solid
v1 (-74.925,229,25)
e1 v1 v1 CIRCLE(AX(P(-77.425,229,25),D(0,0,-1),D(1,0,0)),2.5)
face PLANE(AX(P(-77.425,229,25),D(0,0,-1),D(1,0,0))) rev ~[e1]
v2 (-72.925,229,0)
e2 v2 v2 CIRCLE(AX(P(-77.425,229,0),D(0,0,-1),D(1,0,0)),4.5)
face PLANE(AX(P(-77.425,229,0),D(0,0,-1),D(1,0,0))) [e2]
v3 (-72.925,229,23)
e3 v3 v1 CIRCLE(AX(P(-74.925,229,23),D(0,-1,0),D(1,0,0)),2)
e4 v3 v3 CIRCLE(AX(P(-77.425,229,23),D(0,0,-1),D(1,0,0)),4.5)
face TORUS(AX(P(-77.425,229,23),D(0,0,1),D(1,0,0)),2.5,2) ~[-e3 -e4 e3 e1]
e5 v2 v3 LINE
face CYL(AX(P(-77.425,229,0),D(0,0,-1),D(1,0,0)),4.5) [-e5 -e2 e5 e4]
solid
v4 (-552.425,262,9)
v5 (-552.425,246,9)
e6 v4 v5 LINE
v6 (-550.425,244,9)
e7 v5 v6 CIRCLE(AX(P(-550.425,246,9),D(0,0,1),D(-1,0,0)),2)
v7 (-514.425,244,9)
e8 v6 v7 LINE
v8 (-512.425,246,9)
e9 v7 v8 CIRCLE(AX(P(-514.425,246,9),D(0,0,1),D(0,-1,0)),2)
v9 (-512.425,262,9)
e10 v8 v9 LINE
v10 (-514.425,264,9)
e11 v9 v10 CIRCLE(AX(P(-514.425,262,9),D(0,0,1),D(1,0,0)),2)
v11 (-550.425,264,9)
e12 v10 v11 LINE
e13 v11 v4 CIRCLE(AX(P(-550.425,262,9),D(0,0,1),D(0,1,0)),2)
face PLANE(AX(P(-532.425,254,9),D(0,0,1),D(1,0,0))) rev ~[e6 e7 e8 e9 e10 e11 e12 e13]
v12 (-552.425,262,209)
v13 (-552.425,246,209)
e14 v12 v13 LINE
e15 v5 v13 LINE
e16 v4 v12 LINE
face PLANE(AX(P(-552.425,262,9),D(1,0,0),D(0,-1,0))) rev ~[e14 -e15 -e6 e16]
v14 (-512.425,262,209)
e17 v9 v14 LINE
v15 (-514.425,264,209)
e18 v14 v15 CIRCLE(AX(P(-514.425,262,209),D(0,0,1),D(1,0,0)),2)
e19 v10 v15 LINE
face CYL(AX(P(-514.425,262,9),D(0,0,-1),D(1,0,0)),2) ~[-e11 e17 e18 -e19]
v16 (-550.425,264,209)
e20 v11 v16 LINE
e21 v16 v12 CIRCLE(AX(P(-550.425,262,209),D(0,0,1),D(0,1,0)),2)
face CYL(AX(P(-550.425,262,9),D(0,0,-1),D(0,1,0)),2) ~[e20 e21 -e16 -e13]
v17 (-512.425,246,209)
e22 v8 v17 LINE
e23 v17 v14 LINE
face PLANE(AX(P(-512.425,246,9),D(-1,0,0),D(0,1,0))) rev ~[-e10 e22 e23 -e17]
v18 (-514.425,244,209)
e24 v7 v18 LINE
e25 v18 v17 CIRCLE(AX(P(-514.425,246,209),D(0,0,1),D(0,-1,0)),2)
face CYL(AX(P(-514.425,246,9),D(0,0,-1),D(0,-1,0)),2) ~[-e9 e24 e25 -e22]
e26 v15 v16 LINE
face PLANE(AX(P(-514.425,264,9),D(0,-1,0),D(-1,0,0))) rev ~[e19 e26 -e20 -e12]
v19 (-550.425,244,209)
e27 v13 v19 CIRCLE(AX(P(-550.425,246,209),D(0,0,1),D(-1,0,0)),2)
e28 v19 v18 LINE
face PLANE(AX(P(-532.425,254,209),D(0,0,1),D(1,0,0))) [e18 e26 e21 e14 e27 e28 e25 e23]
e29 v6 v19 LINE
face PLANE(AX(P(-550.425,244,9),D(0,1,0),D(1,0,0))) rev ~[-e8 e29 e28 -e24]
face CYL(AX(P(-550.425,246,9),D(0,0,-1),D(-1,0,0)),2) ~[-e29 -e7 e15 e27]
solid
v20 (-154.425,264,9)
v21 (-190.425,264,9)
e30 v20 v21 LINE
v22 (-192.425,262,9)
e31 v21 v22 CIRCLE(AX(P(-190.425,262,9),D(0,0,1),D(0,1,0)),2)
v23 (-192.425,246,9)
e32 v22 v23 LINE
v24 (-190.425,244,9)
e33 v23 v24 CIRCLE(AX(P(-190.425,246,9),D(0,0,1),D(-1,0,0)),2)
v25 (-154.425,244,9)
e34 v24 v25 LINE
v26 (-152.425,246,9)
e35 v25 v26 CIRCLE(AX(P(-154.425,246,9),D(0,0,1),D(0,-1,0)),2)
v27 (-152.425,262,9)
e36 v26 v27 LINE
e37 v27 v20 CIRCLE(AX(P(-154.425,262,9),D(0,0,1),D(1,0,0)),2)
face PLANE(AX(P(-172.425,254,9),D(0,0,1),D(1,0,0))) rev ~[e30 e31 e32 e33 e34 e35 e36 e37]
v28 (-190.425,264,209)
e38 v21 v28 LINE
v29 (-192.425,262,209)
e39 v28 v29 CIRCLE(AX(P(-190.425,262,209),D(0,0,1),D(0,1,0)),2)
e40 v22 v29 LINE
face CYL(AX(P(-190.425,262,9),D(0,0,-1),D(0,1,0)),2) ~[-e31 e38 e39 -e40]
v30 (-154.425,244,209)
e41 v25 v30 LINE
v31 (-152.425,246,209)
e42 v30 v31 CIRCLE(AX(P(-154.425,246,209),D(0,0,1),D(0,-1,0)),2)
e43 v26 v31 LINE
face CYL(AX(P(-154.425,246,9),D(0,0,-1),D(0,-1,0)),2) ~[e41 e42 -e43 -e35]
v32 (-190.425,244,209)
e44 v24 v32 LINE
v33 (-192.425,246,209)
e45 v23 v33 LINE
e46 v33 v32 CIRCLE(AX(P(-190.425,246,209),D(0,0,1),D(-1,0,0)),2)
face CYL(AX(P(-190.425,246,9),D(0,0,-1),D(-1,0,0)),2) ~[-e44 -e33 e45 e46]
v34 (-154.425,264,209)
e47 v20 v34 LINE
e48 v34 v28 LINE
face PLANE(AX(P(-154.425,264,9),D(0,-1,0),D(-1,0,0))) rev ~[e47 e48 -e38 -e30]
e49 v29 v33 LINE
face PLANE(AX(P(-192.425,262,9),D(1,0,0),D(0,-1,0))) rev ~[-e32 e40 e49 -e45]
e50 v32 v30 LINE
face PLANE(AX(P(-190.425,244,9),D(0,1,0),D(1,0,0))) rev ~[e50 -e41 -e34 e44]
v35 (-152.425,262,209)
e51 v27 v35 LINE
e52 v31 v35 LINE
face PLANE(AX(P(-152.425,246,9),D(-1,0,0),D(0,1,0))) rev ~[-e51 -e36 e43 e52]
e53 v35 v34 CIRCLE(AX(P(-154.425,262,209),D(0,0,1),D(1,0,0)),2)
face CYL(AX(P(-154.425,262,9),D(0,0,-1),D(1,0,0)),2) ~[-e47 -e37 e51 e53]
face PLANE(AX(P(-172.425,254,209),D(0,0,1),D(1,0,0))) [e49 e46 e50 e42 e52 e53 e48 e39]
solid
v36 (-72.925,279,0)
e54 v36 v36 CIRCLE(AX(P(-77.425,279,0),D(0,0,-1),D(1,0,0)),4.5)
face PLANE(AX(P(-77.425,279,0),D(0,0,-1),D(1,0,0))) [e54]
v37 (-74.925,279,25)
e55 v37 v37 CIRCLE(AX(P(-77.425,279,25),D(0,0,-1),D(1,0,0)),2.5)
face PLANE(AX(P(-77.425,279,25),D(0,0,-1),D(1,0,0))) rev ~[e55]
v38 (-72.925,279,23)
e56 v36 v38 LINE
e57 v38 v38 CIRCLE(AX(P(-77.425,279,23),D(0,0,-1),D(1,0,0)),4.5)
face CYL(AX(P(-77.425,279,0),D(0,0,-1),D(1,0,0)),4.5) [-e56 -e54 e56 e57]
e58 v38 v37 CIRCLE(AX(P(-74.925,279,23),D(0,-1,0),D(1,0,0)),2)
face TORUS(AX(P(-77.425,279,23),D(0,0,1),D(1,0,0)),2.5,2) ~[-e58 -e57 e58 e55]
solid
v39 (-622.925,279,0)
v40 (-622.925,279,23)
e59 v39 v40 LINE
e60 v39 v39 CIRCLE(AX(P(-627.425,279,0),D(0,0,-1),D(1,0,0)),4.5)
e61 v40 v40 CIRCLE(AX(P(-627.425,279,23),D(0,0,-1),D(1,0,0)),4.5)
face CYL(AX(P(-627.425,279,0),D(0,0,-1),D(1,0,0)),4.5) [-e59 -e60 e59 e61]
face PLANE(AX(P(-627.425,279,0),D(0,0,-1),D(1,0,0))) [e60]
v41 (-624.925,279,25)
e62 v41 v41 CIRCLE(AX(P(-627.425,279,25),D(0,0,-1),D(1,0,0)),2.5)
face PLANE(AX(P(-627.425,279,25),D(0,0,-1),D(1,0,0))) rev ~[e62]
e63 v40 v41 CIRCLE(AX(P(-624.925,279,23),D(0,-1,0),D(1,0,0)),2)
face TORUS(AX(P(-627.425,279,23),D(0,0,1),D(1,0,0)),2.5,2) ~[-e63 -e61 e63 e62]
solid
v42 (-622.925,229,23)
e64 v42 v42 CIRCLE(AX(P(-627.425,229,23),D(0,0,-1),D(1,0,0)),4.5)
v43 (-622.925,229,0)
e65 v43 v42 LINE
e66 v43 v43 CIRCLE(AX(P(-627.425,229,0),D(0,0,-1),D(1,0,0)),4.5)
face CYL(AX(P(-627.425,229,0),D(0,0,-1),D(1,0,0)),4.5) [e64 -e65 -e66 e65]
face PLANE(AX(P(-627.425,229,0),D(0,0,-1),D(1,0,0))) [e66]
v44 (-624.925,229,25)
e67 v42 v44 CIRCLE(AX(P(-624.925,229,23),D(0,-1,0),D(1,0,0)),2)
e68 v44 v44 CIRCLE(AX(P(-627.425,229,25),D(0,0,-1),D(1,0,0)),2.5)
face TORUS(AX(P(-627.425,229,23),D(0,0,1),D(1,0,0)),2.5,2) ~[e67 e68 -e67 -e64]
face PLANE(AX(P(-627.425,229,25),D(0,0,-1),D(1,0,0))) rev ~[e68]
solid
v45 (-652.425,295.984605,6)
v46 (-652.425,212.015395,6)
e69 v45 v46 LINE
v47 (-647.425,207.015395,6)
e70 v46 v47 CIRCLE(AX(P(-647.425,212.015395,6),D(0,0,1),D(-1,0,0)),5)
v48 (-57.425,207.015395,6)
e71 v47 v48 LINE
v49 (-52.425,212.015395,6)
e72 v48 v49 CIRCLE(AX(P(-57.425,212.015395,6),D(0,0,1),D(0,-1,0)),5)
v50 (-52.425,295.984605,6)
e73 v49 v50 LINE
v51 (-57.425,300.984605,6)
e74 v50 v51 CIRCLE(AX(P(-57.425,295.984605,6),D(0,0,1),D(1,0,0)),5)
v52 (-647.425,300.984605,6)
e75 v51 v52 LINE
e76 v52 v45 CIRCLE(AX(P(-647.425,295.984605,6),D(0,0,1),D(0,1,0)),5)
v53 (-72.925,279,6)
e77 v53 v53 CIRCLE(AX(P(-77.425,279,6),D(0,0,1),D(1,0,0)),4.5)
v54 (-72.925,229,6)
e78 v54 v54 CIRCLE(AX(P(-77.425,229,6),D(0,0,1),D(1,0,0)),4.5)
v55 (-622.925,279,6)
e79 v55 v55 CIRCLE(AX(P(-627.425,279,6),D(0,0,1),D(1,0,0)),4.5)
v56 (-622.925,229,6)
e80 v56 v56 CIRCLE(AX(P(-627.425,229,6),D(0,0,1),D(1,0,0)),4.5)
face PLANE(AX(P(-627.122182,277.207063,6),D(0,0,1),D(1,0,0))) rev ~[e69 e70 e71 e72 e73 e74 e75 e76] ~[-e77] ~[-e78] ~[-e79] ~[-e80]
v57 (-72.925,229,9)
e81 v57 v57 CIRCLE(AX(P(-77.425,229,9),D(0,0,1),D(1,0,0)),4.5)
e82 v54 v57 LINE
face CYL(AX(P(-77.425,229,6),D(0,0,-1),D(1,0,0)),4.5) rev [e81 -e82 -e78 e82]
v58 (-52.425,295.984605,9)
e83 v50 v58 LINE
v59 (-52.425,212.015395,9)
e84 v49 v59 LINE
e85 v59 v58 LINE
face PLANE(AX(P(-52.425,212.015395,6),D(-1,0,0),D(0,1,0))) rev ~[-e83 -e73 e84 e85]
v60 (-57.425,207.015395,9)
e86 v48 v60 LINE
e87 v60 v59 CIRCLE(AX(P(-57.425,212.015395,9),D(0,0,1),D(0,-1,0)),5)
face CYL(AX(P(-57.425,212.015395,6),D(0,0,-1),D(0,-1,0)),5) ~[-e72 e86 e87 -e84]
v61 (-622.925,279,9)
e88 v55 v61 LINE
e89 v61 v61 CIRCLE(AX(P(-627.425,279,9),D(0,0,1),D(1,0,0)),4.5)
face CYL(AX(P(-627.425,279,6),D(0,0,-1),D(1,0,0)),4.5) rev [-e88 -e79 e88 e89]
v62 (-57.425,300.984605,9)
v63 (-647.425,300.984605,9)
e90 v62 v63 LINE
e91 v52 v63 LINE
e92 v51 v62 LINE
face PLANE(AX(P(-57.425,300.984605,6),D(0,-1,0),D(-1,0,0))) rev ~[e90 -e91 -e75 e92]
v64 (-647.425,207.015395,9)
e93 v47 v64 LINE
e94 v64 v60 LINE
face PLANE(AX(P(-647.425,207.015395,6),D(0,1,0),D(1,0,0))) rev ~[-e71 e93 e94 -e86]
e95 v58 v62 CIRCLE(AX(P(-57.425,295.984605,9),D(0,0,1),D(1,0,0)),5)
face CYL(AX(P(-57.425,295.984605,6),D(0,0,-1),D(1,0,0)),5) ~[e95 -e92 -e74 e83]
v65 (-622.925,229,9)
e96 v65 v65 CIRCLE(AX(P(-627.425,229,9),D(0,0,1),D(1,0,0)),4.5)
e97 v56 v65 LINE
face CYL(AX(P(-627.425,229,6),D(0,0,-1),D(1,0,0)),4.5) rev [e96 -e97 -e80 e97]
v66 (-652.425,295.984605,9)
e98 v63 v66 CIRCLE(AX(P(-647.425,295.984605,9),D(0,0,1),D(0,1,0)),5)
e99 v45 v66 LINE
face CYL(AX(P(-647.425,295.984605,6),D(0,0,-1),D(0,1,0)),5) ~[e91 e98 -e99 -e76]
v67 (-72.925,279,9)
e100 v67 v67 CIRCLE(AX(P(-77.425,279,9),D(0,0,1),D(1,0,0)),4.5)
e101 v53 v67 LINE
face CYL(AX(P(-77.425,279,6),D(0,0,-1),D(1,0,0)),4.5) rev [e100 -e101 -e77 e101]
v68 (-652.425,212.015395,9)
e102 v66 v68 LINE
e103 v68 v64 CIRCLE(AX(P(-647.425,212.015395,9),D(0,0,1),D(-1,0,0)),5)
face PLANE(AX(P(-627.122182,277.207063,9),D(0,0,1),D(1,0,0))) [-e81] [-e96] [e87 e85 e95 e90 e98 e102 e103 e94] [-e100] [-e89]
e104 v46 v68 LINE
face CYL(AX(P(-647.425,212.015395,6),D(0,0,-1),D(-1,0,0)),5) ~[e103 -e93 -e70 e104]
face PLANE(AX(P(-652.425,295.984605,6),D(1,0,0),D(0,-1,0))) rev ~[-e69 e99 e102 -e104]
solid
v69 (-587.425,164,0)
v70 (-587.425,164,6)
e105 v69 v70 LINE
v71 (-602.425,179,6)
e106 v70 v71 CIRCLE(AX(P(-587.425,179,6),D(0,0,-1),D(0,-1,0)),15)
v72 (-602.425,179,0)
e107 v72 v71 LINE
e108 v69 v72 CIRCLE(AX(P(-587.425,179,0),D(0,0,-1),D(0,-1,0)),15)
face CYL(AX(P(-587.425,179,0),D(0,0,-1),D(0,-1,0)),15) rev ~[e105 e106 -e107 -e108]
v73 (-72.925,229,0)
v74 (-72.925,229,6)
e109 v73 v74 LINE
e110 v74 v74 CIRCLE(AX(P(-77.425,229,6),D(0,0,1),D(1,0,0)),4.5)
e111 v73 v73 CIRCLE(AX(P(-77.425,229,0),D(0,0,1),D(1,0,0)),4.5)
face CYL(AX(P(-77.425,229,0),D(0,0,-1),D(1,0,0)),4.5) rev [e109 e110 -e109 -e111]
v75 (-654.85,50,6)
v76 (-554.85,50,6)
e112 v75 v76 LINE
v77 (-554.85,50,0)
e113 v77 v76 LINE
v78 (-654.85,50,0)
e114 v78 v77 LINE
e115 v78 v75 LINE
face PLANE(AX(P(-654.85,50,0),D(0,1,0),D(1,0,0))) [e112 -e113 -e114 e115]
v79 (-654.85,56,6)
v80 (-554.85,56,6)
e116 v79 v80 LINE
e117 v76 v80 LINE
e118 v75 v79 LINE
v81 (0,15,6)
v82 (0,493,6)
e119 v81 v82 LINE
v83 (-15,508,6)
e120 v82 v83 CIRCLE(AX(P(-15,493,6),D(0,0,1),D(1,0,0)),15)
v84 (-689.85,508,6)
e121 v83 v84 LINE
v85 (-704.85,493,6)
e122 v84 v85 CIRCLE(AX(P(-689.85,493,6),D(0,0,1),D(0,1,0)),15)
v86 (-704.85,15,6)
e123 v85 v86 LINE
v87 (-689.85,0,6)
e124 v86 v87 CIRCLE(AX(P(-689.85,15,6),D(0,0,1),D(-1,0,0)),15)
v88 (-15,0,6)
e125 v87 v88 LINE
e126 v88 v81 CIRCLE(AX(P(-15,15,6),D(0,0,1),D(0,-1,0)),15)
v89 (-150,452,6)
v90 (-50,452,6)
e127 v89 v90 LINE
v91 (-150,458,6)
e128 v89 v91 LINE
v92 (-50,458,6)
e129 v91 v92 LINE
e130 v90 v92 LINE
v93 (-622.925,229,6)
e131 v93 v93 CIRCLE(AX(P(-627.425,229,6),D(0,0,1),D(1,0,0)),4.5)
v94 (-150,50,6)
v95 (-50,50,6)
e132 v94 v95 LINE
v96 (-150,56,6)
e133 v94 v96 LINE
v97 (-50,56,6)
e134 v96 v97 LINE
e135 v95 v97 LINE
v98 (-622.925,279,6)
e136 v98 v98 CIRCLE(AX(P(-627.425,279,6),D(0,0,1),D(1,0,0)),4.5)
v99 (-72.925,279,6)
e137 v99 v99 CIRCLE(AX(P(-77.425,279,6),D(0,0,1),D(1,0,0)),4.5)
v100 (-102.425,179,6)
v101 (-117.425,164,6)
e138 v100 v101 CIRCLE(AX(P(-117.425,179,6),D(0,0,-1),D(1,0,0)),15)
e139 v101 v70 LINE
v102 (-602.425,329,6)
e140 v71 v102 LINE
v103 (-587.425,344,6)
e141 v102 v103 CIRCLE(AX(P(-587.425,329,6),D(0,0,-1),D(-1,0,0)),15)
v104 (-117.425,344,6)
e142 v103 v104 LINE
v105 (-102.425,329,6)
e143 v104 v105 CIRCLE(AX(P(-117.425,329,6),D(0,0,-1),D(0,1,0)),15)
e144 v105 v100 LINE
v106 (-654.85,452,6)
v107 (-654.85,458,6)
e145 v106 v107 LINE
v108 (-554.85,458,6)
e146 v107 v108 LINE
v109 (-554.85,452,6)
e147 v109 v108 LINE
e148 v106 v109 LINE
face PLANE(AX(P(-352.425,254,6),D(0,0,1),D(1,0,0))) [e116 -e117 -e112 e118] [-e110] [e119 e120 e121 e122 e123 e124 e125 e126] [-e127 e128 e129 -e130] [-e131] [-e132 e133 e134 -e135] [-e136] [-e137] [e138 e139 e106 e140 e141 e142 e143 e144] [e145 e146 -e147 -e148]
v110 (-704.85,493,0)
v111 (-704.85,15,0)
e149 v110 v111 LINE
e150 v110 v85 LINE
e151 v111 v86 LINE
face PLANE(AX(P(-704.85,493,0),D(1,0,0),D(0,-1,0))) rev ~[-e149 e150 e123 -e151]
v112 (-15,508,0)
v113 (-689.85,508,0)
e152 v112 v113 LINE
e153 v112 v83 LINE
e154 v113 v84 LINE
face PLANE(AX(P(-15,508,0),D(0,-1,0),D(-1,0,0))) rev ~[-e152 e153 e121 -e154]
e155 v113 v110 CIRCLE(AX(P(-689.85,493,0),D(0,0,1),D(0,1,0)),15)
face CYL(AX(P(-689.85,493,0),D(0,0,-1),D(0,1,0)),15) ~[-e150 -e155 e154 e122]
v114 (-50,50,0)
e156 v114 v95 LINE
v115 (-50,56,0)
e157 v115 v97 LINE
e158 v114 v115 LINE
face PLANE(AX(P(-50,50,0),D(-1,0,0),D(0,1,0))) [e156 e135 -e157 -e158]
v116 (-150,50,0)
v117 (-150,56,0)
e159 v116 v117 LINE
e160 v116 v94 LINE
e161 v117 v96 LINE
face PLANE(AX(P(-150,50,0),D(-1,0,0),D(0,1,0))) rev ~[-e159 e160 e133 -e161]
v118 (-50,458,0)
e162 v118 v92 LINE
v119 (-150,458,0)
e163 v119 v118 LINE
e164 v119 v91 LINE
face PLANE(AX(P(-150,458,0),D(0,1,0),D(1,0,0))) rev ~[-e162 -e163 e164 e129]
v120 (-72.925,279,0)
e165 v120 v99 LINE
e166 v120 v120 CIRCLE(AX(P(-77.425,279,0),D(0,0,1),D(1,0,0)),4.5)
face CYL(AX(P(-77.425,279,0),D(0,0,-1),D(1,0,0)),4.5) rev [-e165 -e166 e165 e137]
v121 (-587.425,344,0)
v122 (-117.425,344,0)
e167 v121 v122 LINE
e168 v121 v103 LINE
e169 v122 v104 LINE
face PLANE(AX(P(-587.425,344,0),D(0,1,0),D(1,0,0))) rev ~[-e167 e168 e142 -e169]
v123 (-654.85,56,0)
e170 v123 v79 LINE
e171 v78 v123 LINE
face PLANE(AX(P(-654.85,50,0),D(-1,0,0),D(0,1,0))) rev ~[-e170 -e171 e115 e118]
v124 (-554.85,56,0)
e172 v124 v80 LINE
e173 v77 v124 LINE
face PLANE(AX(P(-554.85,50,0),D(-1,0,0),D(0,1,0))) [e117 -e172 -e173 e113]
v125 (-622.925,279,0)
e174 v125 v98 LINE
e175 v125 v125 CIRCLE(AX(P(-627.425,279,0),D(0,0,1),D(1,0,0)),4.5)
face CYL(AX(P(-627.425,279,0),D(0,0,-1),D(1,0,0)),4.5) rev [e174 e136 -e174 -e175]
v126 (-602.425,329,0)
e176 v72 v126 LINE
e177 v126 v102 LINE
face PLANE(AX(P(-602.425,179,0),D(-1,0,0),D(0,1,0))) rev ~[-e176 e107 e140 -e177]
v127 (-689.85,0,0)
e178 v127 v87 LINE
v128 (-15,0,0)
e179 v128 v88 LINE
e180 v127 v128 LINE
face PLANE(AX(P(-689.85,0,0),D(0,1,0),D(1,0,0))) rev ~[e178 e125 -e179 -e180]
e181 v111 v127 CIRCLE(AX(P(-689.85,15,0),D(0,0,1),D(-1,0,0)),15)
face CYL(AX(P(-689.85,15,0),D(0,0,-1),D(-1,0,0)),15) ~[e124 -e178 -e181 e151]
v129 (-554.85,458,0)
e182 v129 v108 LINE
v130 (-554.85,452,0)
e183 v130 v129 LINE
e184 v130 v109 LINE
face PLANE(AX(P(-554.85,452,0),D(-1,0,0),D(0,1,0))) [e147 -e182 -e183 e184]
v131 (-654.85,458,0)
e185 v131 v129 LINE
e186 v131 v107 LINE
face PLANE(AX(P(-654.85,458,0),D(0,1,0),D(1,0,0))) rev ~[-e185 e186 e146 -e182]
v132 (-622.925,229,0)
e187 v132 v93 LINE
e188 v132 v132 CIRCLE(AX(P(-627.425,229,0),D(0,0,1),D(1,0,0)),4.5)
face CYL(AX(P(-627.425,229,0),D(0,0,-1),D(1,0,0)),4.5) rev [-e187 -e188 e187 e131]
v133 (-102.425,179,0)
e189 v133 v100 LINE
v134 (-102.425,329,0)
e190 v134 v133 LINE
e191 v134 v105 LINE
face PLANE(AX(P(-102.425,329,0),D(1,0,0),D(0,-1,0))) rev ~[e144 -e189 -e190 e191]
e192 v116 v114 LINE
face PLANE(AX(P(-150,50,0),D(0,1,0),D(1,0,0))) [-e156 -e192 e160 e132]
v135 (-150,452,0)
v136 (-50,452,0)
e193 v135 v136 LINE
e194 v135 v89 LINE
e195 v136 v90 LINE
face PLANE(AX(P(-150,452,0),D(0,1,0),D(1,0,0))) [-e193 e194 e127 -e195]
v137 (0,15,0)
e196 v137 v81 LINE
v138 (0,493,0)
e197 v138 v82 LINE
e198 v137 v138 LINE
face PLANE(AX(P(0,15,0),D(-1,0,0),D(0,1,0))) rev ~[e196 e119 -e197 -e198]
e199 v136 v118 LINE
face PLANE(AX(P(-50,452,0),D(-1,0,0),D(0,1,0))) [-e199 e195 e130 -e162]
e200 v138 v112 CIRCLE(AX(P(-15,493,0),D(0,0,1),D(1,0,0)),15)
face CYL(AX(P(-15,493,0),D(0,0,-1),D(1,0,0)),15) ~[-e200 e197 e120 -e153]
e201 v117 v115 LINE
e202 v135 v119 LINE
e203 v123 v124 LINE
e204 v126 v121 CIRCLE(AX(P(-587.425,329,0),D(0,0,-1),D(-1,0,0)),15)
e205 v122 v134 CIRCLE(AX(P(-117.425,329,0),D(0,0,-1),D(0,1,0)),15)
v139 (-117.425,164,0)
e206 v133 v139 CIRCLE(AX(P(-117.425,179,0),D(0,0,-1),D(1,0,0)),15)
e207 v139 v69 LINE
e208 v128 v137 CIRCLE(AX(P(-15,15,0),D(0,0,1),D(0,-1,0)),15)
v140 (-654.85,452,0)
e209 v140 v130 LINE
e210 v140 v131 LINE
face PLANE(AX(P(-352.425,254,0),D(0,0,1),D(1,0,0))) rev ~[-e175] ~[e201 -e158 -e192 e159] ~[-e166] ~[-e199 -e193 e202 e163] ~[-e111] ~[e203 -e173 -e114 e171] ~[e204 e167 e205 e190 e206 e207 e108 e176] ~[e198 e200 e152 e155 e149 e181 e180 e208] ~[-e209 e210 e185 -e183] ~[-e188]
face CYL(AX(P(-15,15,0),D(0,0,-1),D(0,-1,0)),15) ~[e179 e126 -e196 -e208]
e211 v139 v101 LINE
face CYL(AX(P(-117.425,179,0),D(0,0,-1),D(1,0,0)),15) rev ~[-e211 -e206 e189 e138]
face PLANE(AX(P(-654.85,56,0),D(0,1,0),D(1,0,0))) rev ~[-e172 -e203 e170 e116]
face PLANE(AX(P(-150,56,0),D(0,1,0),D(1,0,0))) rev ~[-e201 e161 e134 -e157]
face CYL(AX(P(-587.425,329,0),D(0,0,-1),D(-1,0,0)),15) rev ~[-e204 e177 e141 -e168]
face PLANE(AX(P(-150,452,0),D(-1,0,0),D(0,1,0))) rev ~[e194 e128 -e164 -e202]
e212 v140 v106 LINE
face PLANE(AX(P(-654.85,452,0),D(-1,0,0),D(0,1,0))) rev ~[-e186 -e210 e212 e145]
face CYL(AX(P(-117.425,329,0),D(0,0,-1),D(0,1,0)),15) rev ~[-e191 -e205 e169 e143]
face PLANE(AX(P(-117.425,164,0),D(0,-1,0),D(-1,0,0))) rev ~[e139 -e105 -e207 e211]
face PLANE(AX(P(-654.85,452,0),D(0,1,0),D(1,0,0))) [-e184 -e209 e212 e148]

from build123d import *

# Parameters (mm, degrees)
F0_W     = 100
F0_H     = 6
F0_R     = 4.5
F1_DEPTH = 6
F2_R     = 4.5
F3_DEPTH = 25
F4_R     = 2
F4_2_R   = 2
F4_3_R   = 2
F4_4_R   = 2
F5_R     = 4.5
F5_W     = 250
F5_H     = 46.9846048355
F6_DEPTH = 3
F8_DEPTH = 200


with BuildPart() as f1:
    # F0 (on Top) → F1 (new body)
    with BuildSketch(Plane.XY):
        with BuildLine():
            Line((-689.85, 0), (-15, 0))
            ThreePointArc((-15, 0), (-4.3933982822, 4.3933982822), (0, 15))
            Line((0, 15), (0, 493))
            ThreePointArc((0, 493), (-4.3933982822, 503.6066017178), (-15, 508))
            Line((-15, 508), (-689.85, 508))
            ThreePointArc((-689.85, 508), (-700.4566017178, 503.6066017178), (-704.85, 493))
            Line((-704.85, 493), (-704.85, 15))
            ThreePointArc((-704.85, 15), (-700.4566017178, 4.3933982822), (-689.85, 0))
        make_face()
        with Locations((-604.85, 53)):
            Rectangle(F0_W, F0_H, mode=Mode.SUBTRACT)
        with Locations((-627.425, 229)):
            Circle(F0_R, mode=Mode.SUBTRACT)
        with Locations((-100, 53)):
            Rectangle(F0_W, F0_H, mode=Mode.SUBTRACT)
        with Locations((-77.425, 229)):
            Circle(F0_R, mode=Mode.SUBTRACT)
        with Locations((-627.425, 279)):
            Circle(F0_R, mode=Mode.SUBTRACT)
        with Locations((-604.85, 455)):
            Rectangle(F0_W, F0_H, mode=Mode.SUBTRACT)
        with BuildLine():
            ThreePointArc((-102.425, 179), (-106.8183982822, 168.3933982822), (-117.425, 164))
            Line((-117.425, 164), (-587.425, 164))
            ThreePointArc((-587.425, 164), (-598.0316017178, 168.3933982822), (-602.425, 179))
            Line((-602.425, 179), (-602.425, 329))
            ThreePointArc((-602.425, 329), (-598.0316017178, 339.6066017178), (-587.425, 344))
            Line((-587.425, 344), (-117.425, 344))
            ThreePointArc((-117.425, 344), (-106.8183982822, 339.6066017178), (-102.425, 329))
            Line((-102.425, 329), (-102.425, 179))
        make_face(mode=Mode.SUBTRACT)
        with Locations((-77.425, 279)):
            Circle(F0_R, mode=Mode.SUBTRACT)
        with Locations((-100, 455)):
            Rectangle(F0_W, F0_H, mode=Mode.SUBTRACT)
    extrude(amount=F1_DEPTH)


with BuildPart() as f3:
    # F2 (on face) → F3 (new body)
    with BuildSketch(Plane(origin=(0, 0, 0), x_dir=(1, 0, 0), z_dir=(0, 0, -1))):
        with Locations((-627.425, -279)):
            Circle(F2_R)
    extrude(amount=-F3_DEPTH)

    # F4
    f4_edges = [f3.edges().sort_by_distance(p)[0] for p in [
        (-631.925, 279, 25),
    ]]
    fillet(f4_edges, radius=F4_R)


with BuildPart() as f3b:
    # F2 (on face) → F3, piece 2 (new body)
    with BuildSketch(Plane(origin=(0, 0, 0), x_dir=(1, 0, 0), z_dir=(0, 0, -1))):
        with Locations((-627.425, -229)):
            Circle(F2_R)
    extrude(amount=-F3_DEPTH)

    # F4#2
    f4_2_edges = [f3b.edges().sort_by_distance(p)[0] for p in [
        (-631.925, 229, 25),
    ]]
    fillet(f4_2_edges, radius=F4_2_R)


with BuildPart() as f3c:
    # F2 (on face) → F3, piece 3 (new body)
    with BuildSketch(Plane(origin=(0, 0, 0), x_dir=(1, 0, 0), z_dir=(0, 0, -1))):
        with Locations((-77.425, -279)):
            Circle(F2_R)
    extrude(amount=-F3_DEPTH)

    # F4#3
    f4_3_edges = [f3c.edges().sort_by_distance(p)[0] for p in [
        (-81.925, 279, 25),
    ]]
    fillet(f4_3_edges, radius=F4_3_R)


with BuildPart() as f3d:
    # F2 (on face) → F3, piece 4 (new body)
    with BuildSketch(Plane(origin=(0, 0, 0), x_dir=(1, 0, 0), z_dir=(0, 0, -1))):
        with Locations((-77.425, -229)):
            Circle(F2_R)
    extrude(amount=-F3_DEPTH)

    # F4#4
    f4_4_edges = [f3d.edges().sort_by_distance(p)[0] for p in [
        (-81.925, 229, 25),
    ]]
    fillet(f4_4_edges, radius=F4_4_R)


with BuildPart() as f6:
    # F5 (on face) → F6 (new body)
    with BuildSketch(Plane.XY.offset(6)):
        with BuildLine():
            Line((-602.425, 254), (-602.425, 300.9846048355))
            Line((-602.425, 300.9846048355), (-647.425, 300.9846048355))
            ThreePointArc((-647.425, 300.9846048355), (-650.9605339059, 299.5201387414), (-652.425, 295.9846048355))
            Line((-652.425, 295.9846048355), (-652.425, 254))
            Line((-652.425, 254), (-602.425, 254))
        make_face()
        with Locations((-627.425, 279)):
            Circle(F5_R, mode=Mode.SUBTRACT)
        with Locations((-477.425, 277.4923024178)):
            Rectangle(F5_W, F5_H)
        with BuildLine():
            Line((-602.425, 207.0153951645), (-602.425, 254))
            Line((-602.425, 254), (-652.425, 254))
            Line((-652.425, 254), (-652.425, 212.0153951645))
            ThreePointArc((-652.425, 212.0153951645), (-650.9605339059, 208.4798612586), (-647.425, 207.0153951645))
            Line((-647.425, 207.0153951645), (-602.425, 207.0153951645))
        make_face()
        with Locations((-627.425, 229)):
            Circle(F5_R, mode=Mode.SUBTRACT)
        with Locations((-477.425, 230.5076975822)):
            Rectangle(F5_W, F5_H)
        with Locations((-227.425, 230.5076975822)):
            Rectangle(F5_W, F5_H)
        with Locations((-227.425, 277.4923024178)):
            Rectangle(F5_W, F5_H)
        with BuildLine():
            Line((-57.425, 300.9846048355), (-102.425, 300.9846048355))
            Line((-102.425, 300.9846048355), (-102.425, 254))
            Line((-102.425, 254), (-52.425, 254))
            Line((-52.425, 254), (-52.425, 295.9846048355))
            ThreePointArc((-52.425, 295.9846048355), (-53.8894660941, 299.5201387414), (-57.425, 300.9846048355))
        make_face()
        with Locations((-77.425, 279)):
            Circle(F5_R, mode=Mode.SUBTRACT)
        with BuildLine():
            Line((-52.425, 254), (-102.425, 254))
            Line((-102.425, 254), (-102.425, 207.0153951645))
            Line((-102.425, 207.0153951645), (-57.425, 207.0153951645))
            ThreePointArc((-57.425, 207.0153951645), (-53.8894660941, 208.4798612586), (-52.425, 212.0153951645))
            Line((-52.425, 212.0153951645), (-52.425, 254))
        make_face()
        with Locations((-77.425, 229)):
            Circle(F5_R, mode=Mode.SUBTRACT)
    extrude(amount=F6_DEPTH)


with BuildPart() as f8:
    # F7 (on face) → F8 (new body)
    with BuildSketch(Plane.XY.offset(9)):
        with BuildLine():
            Line((-552.425, 262), (-552.425, 254))
            Line((-552.425, 254), (-552.425, 246))
            ThreePointArc((-552.425, 246), (-551.8392135624, 244.5857864376), (-550.425, 244))
            Line((-550.425, 244), (-514.425, 244))
            ThreePointArc((-514.425, 244), (-513.0107864376, 244.5857864376), (-512.425, 246))
            Line((-512.425, 246), (-512.425, 254))
            Line((-512.425, 254), (-512.425, 262))
            ThreePointArc((-512.425, 262), (-513.0107864376, 263.4142135624), (-514.425, 264))
            Line((-514.425, 264), (-550.425, 264))
            ThreePointArc((-550.425, 264), (-551.8392135624, 263.4142135624), (-552.425, 262))
        make_face()
    extrude(amount=F8_DEPTH)


with BuildPart() as f8b:
    # F7 (on face) → F8, piece 2 (new body)
    with BuildSketch(Plane.XY.offset(9)):
        with BuildLine():
            ThreePointArc((-190.425, 264), (-191.8392135624, 263.4142135624), (-192.425, 262))
            Line((-192.425, 262), (-192.425, 254))
            Line((-192.425, 254), (-192.425, 246))
            ThreePointArc((-192.425, 246), (-191.8392135624, 244.5857864376), (-190.425, 244))
            Line((-190.425, 244), (-154.425, 244))
            ThreePointArc((-154.425, 244), (-153.0107864376, 244.5857864376), (-152.425, 246))
            Line((-152.425, 246), (-152.425, 254))
            Line((-152.425, 254), (-152.425, 262))
            ThreePointArc((-152.425, 262), (-153.0107864376, 263.4142135624), (-154.425, 264))
            Line((-154.425, 264), (-190.425, 264))
        make_face()
    extrude(amount=F8_DEPTH)


solid = Compound([f1.part, f3.part, f3b.part, f3c.part, f3d.part, f6.part, f8.part, f8b.part])
